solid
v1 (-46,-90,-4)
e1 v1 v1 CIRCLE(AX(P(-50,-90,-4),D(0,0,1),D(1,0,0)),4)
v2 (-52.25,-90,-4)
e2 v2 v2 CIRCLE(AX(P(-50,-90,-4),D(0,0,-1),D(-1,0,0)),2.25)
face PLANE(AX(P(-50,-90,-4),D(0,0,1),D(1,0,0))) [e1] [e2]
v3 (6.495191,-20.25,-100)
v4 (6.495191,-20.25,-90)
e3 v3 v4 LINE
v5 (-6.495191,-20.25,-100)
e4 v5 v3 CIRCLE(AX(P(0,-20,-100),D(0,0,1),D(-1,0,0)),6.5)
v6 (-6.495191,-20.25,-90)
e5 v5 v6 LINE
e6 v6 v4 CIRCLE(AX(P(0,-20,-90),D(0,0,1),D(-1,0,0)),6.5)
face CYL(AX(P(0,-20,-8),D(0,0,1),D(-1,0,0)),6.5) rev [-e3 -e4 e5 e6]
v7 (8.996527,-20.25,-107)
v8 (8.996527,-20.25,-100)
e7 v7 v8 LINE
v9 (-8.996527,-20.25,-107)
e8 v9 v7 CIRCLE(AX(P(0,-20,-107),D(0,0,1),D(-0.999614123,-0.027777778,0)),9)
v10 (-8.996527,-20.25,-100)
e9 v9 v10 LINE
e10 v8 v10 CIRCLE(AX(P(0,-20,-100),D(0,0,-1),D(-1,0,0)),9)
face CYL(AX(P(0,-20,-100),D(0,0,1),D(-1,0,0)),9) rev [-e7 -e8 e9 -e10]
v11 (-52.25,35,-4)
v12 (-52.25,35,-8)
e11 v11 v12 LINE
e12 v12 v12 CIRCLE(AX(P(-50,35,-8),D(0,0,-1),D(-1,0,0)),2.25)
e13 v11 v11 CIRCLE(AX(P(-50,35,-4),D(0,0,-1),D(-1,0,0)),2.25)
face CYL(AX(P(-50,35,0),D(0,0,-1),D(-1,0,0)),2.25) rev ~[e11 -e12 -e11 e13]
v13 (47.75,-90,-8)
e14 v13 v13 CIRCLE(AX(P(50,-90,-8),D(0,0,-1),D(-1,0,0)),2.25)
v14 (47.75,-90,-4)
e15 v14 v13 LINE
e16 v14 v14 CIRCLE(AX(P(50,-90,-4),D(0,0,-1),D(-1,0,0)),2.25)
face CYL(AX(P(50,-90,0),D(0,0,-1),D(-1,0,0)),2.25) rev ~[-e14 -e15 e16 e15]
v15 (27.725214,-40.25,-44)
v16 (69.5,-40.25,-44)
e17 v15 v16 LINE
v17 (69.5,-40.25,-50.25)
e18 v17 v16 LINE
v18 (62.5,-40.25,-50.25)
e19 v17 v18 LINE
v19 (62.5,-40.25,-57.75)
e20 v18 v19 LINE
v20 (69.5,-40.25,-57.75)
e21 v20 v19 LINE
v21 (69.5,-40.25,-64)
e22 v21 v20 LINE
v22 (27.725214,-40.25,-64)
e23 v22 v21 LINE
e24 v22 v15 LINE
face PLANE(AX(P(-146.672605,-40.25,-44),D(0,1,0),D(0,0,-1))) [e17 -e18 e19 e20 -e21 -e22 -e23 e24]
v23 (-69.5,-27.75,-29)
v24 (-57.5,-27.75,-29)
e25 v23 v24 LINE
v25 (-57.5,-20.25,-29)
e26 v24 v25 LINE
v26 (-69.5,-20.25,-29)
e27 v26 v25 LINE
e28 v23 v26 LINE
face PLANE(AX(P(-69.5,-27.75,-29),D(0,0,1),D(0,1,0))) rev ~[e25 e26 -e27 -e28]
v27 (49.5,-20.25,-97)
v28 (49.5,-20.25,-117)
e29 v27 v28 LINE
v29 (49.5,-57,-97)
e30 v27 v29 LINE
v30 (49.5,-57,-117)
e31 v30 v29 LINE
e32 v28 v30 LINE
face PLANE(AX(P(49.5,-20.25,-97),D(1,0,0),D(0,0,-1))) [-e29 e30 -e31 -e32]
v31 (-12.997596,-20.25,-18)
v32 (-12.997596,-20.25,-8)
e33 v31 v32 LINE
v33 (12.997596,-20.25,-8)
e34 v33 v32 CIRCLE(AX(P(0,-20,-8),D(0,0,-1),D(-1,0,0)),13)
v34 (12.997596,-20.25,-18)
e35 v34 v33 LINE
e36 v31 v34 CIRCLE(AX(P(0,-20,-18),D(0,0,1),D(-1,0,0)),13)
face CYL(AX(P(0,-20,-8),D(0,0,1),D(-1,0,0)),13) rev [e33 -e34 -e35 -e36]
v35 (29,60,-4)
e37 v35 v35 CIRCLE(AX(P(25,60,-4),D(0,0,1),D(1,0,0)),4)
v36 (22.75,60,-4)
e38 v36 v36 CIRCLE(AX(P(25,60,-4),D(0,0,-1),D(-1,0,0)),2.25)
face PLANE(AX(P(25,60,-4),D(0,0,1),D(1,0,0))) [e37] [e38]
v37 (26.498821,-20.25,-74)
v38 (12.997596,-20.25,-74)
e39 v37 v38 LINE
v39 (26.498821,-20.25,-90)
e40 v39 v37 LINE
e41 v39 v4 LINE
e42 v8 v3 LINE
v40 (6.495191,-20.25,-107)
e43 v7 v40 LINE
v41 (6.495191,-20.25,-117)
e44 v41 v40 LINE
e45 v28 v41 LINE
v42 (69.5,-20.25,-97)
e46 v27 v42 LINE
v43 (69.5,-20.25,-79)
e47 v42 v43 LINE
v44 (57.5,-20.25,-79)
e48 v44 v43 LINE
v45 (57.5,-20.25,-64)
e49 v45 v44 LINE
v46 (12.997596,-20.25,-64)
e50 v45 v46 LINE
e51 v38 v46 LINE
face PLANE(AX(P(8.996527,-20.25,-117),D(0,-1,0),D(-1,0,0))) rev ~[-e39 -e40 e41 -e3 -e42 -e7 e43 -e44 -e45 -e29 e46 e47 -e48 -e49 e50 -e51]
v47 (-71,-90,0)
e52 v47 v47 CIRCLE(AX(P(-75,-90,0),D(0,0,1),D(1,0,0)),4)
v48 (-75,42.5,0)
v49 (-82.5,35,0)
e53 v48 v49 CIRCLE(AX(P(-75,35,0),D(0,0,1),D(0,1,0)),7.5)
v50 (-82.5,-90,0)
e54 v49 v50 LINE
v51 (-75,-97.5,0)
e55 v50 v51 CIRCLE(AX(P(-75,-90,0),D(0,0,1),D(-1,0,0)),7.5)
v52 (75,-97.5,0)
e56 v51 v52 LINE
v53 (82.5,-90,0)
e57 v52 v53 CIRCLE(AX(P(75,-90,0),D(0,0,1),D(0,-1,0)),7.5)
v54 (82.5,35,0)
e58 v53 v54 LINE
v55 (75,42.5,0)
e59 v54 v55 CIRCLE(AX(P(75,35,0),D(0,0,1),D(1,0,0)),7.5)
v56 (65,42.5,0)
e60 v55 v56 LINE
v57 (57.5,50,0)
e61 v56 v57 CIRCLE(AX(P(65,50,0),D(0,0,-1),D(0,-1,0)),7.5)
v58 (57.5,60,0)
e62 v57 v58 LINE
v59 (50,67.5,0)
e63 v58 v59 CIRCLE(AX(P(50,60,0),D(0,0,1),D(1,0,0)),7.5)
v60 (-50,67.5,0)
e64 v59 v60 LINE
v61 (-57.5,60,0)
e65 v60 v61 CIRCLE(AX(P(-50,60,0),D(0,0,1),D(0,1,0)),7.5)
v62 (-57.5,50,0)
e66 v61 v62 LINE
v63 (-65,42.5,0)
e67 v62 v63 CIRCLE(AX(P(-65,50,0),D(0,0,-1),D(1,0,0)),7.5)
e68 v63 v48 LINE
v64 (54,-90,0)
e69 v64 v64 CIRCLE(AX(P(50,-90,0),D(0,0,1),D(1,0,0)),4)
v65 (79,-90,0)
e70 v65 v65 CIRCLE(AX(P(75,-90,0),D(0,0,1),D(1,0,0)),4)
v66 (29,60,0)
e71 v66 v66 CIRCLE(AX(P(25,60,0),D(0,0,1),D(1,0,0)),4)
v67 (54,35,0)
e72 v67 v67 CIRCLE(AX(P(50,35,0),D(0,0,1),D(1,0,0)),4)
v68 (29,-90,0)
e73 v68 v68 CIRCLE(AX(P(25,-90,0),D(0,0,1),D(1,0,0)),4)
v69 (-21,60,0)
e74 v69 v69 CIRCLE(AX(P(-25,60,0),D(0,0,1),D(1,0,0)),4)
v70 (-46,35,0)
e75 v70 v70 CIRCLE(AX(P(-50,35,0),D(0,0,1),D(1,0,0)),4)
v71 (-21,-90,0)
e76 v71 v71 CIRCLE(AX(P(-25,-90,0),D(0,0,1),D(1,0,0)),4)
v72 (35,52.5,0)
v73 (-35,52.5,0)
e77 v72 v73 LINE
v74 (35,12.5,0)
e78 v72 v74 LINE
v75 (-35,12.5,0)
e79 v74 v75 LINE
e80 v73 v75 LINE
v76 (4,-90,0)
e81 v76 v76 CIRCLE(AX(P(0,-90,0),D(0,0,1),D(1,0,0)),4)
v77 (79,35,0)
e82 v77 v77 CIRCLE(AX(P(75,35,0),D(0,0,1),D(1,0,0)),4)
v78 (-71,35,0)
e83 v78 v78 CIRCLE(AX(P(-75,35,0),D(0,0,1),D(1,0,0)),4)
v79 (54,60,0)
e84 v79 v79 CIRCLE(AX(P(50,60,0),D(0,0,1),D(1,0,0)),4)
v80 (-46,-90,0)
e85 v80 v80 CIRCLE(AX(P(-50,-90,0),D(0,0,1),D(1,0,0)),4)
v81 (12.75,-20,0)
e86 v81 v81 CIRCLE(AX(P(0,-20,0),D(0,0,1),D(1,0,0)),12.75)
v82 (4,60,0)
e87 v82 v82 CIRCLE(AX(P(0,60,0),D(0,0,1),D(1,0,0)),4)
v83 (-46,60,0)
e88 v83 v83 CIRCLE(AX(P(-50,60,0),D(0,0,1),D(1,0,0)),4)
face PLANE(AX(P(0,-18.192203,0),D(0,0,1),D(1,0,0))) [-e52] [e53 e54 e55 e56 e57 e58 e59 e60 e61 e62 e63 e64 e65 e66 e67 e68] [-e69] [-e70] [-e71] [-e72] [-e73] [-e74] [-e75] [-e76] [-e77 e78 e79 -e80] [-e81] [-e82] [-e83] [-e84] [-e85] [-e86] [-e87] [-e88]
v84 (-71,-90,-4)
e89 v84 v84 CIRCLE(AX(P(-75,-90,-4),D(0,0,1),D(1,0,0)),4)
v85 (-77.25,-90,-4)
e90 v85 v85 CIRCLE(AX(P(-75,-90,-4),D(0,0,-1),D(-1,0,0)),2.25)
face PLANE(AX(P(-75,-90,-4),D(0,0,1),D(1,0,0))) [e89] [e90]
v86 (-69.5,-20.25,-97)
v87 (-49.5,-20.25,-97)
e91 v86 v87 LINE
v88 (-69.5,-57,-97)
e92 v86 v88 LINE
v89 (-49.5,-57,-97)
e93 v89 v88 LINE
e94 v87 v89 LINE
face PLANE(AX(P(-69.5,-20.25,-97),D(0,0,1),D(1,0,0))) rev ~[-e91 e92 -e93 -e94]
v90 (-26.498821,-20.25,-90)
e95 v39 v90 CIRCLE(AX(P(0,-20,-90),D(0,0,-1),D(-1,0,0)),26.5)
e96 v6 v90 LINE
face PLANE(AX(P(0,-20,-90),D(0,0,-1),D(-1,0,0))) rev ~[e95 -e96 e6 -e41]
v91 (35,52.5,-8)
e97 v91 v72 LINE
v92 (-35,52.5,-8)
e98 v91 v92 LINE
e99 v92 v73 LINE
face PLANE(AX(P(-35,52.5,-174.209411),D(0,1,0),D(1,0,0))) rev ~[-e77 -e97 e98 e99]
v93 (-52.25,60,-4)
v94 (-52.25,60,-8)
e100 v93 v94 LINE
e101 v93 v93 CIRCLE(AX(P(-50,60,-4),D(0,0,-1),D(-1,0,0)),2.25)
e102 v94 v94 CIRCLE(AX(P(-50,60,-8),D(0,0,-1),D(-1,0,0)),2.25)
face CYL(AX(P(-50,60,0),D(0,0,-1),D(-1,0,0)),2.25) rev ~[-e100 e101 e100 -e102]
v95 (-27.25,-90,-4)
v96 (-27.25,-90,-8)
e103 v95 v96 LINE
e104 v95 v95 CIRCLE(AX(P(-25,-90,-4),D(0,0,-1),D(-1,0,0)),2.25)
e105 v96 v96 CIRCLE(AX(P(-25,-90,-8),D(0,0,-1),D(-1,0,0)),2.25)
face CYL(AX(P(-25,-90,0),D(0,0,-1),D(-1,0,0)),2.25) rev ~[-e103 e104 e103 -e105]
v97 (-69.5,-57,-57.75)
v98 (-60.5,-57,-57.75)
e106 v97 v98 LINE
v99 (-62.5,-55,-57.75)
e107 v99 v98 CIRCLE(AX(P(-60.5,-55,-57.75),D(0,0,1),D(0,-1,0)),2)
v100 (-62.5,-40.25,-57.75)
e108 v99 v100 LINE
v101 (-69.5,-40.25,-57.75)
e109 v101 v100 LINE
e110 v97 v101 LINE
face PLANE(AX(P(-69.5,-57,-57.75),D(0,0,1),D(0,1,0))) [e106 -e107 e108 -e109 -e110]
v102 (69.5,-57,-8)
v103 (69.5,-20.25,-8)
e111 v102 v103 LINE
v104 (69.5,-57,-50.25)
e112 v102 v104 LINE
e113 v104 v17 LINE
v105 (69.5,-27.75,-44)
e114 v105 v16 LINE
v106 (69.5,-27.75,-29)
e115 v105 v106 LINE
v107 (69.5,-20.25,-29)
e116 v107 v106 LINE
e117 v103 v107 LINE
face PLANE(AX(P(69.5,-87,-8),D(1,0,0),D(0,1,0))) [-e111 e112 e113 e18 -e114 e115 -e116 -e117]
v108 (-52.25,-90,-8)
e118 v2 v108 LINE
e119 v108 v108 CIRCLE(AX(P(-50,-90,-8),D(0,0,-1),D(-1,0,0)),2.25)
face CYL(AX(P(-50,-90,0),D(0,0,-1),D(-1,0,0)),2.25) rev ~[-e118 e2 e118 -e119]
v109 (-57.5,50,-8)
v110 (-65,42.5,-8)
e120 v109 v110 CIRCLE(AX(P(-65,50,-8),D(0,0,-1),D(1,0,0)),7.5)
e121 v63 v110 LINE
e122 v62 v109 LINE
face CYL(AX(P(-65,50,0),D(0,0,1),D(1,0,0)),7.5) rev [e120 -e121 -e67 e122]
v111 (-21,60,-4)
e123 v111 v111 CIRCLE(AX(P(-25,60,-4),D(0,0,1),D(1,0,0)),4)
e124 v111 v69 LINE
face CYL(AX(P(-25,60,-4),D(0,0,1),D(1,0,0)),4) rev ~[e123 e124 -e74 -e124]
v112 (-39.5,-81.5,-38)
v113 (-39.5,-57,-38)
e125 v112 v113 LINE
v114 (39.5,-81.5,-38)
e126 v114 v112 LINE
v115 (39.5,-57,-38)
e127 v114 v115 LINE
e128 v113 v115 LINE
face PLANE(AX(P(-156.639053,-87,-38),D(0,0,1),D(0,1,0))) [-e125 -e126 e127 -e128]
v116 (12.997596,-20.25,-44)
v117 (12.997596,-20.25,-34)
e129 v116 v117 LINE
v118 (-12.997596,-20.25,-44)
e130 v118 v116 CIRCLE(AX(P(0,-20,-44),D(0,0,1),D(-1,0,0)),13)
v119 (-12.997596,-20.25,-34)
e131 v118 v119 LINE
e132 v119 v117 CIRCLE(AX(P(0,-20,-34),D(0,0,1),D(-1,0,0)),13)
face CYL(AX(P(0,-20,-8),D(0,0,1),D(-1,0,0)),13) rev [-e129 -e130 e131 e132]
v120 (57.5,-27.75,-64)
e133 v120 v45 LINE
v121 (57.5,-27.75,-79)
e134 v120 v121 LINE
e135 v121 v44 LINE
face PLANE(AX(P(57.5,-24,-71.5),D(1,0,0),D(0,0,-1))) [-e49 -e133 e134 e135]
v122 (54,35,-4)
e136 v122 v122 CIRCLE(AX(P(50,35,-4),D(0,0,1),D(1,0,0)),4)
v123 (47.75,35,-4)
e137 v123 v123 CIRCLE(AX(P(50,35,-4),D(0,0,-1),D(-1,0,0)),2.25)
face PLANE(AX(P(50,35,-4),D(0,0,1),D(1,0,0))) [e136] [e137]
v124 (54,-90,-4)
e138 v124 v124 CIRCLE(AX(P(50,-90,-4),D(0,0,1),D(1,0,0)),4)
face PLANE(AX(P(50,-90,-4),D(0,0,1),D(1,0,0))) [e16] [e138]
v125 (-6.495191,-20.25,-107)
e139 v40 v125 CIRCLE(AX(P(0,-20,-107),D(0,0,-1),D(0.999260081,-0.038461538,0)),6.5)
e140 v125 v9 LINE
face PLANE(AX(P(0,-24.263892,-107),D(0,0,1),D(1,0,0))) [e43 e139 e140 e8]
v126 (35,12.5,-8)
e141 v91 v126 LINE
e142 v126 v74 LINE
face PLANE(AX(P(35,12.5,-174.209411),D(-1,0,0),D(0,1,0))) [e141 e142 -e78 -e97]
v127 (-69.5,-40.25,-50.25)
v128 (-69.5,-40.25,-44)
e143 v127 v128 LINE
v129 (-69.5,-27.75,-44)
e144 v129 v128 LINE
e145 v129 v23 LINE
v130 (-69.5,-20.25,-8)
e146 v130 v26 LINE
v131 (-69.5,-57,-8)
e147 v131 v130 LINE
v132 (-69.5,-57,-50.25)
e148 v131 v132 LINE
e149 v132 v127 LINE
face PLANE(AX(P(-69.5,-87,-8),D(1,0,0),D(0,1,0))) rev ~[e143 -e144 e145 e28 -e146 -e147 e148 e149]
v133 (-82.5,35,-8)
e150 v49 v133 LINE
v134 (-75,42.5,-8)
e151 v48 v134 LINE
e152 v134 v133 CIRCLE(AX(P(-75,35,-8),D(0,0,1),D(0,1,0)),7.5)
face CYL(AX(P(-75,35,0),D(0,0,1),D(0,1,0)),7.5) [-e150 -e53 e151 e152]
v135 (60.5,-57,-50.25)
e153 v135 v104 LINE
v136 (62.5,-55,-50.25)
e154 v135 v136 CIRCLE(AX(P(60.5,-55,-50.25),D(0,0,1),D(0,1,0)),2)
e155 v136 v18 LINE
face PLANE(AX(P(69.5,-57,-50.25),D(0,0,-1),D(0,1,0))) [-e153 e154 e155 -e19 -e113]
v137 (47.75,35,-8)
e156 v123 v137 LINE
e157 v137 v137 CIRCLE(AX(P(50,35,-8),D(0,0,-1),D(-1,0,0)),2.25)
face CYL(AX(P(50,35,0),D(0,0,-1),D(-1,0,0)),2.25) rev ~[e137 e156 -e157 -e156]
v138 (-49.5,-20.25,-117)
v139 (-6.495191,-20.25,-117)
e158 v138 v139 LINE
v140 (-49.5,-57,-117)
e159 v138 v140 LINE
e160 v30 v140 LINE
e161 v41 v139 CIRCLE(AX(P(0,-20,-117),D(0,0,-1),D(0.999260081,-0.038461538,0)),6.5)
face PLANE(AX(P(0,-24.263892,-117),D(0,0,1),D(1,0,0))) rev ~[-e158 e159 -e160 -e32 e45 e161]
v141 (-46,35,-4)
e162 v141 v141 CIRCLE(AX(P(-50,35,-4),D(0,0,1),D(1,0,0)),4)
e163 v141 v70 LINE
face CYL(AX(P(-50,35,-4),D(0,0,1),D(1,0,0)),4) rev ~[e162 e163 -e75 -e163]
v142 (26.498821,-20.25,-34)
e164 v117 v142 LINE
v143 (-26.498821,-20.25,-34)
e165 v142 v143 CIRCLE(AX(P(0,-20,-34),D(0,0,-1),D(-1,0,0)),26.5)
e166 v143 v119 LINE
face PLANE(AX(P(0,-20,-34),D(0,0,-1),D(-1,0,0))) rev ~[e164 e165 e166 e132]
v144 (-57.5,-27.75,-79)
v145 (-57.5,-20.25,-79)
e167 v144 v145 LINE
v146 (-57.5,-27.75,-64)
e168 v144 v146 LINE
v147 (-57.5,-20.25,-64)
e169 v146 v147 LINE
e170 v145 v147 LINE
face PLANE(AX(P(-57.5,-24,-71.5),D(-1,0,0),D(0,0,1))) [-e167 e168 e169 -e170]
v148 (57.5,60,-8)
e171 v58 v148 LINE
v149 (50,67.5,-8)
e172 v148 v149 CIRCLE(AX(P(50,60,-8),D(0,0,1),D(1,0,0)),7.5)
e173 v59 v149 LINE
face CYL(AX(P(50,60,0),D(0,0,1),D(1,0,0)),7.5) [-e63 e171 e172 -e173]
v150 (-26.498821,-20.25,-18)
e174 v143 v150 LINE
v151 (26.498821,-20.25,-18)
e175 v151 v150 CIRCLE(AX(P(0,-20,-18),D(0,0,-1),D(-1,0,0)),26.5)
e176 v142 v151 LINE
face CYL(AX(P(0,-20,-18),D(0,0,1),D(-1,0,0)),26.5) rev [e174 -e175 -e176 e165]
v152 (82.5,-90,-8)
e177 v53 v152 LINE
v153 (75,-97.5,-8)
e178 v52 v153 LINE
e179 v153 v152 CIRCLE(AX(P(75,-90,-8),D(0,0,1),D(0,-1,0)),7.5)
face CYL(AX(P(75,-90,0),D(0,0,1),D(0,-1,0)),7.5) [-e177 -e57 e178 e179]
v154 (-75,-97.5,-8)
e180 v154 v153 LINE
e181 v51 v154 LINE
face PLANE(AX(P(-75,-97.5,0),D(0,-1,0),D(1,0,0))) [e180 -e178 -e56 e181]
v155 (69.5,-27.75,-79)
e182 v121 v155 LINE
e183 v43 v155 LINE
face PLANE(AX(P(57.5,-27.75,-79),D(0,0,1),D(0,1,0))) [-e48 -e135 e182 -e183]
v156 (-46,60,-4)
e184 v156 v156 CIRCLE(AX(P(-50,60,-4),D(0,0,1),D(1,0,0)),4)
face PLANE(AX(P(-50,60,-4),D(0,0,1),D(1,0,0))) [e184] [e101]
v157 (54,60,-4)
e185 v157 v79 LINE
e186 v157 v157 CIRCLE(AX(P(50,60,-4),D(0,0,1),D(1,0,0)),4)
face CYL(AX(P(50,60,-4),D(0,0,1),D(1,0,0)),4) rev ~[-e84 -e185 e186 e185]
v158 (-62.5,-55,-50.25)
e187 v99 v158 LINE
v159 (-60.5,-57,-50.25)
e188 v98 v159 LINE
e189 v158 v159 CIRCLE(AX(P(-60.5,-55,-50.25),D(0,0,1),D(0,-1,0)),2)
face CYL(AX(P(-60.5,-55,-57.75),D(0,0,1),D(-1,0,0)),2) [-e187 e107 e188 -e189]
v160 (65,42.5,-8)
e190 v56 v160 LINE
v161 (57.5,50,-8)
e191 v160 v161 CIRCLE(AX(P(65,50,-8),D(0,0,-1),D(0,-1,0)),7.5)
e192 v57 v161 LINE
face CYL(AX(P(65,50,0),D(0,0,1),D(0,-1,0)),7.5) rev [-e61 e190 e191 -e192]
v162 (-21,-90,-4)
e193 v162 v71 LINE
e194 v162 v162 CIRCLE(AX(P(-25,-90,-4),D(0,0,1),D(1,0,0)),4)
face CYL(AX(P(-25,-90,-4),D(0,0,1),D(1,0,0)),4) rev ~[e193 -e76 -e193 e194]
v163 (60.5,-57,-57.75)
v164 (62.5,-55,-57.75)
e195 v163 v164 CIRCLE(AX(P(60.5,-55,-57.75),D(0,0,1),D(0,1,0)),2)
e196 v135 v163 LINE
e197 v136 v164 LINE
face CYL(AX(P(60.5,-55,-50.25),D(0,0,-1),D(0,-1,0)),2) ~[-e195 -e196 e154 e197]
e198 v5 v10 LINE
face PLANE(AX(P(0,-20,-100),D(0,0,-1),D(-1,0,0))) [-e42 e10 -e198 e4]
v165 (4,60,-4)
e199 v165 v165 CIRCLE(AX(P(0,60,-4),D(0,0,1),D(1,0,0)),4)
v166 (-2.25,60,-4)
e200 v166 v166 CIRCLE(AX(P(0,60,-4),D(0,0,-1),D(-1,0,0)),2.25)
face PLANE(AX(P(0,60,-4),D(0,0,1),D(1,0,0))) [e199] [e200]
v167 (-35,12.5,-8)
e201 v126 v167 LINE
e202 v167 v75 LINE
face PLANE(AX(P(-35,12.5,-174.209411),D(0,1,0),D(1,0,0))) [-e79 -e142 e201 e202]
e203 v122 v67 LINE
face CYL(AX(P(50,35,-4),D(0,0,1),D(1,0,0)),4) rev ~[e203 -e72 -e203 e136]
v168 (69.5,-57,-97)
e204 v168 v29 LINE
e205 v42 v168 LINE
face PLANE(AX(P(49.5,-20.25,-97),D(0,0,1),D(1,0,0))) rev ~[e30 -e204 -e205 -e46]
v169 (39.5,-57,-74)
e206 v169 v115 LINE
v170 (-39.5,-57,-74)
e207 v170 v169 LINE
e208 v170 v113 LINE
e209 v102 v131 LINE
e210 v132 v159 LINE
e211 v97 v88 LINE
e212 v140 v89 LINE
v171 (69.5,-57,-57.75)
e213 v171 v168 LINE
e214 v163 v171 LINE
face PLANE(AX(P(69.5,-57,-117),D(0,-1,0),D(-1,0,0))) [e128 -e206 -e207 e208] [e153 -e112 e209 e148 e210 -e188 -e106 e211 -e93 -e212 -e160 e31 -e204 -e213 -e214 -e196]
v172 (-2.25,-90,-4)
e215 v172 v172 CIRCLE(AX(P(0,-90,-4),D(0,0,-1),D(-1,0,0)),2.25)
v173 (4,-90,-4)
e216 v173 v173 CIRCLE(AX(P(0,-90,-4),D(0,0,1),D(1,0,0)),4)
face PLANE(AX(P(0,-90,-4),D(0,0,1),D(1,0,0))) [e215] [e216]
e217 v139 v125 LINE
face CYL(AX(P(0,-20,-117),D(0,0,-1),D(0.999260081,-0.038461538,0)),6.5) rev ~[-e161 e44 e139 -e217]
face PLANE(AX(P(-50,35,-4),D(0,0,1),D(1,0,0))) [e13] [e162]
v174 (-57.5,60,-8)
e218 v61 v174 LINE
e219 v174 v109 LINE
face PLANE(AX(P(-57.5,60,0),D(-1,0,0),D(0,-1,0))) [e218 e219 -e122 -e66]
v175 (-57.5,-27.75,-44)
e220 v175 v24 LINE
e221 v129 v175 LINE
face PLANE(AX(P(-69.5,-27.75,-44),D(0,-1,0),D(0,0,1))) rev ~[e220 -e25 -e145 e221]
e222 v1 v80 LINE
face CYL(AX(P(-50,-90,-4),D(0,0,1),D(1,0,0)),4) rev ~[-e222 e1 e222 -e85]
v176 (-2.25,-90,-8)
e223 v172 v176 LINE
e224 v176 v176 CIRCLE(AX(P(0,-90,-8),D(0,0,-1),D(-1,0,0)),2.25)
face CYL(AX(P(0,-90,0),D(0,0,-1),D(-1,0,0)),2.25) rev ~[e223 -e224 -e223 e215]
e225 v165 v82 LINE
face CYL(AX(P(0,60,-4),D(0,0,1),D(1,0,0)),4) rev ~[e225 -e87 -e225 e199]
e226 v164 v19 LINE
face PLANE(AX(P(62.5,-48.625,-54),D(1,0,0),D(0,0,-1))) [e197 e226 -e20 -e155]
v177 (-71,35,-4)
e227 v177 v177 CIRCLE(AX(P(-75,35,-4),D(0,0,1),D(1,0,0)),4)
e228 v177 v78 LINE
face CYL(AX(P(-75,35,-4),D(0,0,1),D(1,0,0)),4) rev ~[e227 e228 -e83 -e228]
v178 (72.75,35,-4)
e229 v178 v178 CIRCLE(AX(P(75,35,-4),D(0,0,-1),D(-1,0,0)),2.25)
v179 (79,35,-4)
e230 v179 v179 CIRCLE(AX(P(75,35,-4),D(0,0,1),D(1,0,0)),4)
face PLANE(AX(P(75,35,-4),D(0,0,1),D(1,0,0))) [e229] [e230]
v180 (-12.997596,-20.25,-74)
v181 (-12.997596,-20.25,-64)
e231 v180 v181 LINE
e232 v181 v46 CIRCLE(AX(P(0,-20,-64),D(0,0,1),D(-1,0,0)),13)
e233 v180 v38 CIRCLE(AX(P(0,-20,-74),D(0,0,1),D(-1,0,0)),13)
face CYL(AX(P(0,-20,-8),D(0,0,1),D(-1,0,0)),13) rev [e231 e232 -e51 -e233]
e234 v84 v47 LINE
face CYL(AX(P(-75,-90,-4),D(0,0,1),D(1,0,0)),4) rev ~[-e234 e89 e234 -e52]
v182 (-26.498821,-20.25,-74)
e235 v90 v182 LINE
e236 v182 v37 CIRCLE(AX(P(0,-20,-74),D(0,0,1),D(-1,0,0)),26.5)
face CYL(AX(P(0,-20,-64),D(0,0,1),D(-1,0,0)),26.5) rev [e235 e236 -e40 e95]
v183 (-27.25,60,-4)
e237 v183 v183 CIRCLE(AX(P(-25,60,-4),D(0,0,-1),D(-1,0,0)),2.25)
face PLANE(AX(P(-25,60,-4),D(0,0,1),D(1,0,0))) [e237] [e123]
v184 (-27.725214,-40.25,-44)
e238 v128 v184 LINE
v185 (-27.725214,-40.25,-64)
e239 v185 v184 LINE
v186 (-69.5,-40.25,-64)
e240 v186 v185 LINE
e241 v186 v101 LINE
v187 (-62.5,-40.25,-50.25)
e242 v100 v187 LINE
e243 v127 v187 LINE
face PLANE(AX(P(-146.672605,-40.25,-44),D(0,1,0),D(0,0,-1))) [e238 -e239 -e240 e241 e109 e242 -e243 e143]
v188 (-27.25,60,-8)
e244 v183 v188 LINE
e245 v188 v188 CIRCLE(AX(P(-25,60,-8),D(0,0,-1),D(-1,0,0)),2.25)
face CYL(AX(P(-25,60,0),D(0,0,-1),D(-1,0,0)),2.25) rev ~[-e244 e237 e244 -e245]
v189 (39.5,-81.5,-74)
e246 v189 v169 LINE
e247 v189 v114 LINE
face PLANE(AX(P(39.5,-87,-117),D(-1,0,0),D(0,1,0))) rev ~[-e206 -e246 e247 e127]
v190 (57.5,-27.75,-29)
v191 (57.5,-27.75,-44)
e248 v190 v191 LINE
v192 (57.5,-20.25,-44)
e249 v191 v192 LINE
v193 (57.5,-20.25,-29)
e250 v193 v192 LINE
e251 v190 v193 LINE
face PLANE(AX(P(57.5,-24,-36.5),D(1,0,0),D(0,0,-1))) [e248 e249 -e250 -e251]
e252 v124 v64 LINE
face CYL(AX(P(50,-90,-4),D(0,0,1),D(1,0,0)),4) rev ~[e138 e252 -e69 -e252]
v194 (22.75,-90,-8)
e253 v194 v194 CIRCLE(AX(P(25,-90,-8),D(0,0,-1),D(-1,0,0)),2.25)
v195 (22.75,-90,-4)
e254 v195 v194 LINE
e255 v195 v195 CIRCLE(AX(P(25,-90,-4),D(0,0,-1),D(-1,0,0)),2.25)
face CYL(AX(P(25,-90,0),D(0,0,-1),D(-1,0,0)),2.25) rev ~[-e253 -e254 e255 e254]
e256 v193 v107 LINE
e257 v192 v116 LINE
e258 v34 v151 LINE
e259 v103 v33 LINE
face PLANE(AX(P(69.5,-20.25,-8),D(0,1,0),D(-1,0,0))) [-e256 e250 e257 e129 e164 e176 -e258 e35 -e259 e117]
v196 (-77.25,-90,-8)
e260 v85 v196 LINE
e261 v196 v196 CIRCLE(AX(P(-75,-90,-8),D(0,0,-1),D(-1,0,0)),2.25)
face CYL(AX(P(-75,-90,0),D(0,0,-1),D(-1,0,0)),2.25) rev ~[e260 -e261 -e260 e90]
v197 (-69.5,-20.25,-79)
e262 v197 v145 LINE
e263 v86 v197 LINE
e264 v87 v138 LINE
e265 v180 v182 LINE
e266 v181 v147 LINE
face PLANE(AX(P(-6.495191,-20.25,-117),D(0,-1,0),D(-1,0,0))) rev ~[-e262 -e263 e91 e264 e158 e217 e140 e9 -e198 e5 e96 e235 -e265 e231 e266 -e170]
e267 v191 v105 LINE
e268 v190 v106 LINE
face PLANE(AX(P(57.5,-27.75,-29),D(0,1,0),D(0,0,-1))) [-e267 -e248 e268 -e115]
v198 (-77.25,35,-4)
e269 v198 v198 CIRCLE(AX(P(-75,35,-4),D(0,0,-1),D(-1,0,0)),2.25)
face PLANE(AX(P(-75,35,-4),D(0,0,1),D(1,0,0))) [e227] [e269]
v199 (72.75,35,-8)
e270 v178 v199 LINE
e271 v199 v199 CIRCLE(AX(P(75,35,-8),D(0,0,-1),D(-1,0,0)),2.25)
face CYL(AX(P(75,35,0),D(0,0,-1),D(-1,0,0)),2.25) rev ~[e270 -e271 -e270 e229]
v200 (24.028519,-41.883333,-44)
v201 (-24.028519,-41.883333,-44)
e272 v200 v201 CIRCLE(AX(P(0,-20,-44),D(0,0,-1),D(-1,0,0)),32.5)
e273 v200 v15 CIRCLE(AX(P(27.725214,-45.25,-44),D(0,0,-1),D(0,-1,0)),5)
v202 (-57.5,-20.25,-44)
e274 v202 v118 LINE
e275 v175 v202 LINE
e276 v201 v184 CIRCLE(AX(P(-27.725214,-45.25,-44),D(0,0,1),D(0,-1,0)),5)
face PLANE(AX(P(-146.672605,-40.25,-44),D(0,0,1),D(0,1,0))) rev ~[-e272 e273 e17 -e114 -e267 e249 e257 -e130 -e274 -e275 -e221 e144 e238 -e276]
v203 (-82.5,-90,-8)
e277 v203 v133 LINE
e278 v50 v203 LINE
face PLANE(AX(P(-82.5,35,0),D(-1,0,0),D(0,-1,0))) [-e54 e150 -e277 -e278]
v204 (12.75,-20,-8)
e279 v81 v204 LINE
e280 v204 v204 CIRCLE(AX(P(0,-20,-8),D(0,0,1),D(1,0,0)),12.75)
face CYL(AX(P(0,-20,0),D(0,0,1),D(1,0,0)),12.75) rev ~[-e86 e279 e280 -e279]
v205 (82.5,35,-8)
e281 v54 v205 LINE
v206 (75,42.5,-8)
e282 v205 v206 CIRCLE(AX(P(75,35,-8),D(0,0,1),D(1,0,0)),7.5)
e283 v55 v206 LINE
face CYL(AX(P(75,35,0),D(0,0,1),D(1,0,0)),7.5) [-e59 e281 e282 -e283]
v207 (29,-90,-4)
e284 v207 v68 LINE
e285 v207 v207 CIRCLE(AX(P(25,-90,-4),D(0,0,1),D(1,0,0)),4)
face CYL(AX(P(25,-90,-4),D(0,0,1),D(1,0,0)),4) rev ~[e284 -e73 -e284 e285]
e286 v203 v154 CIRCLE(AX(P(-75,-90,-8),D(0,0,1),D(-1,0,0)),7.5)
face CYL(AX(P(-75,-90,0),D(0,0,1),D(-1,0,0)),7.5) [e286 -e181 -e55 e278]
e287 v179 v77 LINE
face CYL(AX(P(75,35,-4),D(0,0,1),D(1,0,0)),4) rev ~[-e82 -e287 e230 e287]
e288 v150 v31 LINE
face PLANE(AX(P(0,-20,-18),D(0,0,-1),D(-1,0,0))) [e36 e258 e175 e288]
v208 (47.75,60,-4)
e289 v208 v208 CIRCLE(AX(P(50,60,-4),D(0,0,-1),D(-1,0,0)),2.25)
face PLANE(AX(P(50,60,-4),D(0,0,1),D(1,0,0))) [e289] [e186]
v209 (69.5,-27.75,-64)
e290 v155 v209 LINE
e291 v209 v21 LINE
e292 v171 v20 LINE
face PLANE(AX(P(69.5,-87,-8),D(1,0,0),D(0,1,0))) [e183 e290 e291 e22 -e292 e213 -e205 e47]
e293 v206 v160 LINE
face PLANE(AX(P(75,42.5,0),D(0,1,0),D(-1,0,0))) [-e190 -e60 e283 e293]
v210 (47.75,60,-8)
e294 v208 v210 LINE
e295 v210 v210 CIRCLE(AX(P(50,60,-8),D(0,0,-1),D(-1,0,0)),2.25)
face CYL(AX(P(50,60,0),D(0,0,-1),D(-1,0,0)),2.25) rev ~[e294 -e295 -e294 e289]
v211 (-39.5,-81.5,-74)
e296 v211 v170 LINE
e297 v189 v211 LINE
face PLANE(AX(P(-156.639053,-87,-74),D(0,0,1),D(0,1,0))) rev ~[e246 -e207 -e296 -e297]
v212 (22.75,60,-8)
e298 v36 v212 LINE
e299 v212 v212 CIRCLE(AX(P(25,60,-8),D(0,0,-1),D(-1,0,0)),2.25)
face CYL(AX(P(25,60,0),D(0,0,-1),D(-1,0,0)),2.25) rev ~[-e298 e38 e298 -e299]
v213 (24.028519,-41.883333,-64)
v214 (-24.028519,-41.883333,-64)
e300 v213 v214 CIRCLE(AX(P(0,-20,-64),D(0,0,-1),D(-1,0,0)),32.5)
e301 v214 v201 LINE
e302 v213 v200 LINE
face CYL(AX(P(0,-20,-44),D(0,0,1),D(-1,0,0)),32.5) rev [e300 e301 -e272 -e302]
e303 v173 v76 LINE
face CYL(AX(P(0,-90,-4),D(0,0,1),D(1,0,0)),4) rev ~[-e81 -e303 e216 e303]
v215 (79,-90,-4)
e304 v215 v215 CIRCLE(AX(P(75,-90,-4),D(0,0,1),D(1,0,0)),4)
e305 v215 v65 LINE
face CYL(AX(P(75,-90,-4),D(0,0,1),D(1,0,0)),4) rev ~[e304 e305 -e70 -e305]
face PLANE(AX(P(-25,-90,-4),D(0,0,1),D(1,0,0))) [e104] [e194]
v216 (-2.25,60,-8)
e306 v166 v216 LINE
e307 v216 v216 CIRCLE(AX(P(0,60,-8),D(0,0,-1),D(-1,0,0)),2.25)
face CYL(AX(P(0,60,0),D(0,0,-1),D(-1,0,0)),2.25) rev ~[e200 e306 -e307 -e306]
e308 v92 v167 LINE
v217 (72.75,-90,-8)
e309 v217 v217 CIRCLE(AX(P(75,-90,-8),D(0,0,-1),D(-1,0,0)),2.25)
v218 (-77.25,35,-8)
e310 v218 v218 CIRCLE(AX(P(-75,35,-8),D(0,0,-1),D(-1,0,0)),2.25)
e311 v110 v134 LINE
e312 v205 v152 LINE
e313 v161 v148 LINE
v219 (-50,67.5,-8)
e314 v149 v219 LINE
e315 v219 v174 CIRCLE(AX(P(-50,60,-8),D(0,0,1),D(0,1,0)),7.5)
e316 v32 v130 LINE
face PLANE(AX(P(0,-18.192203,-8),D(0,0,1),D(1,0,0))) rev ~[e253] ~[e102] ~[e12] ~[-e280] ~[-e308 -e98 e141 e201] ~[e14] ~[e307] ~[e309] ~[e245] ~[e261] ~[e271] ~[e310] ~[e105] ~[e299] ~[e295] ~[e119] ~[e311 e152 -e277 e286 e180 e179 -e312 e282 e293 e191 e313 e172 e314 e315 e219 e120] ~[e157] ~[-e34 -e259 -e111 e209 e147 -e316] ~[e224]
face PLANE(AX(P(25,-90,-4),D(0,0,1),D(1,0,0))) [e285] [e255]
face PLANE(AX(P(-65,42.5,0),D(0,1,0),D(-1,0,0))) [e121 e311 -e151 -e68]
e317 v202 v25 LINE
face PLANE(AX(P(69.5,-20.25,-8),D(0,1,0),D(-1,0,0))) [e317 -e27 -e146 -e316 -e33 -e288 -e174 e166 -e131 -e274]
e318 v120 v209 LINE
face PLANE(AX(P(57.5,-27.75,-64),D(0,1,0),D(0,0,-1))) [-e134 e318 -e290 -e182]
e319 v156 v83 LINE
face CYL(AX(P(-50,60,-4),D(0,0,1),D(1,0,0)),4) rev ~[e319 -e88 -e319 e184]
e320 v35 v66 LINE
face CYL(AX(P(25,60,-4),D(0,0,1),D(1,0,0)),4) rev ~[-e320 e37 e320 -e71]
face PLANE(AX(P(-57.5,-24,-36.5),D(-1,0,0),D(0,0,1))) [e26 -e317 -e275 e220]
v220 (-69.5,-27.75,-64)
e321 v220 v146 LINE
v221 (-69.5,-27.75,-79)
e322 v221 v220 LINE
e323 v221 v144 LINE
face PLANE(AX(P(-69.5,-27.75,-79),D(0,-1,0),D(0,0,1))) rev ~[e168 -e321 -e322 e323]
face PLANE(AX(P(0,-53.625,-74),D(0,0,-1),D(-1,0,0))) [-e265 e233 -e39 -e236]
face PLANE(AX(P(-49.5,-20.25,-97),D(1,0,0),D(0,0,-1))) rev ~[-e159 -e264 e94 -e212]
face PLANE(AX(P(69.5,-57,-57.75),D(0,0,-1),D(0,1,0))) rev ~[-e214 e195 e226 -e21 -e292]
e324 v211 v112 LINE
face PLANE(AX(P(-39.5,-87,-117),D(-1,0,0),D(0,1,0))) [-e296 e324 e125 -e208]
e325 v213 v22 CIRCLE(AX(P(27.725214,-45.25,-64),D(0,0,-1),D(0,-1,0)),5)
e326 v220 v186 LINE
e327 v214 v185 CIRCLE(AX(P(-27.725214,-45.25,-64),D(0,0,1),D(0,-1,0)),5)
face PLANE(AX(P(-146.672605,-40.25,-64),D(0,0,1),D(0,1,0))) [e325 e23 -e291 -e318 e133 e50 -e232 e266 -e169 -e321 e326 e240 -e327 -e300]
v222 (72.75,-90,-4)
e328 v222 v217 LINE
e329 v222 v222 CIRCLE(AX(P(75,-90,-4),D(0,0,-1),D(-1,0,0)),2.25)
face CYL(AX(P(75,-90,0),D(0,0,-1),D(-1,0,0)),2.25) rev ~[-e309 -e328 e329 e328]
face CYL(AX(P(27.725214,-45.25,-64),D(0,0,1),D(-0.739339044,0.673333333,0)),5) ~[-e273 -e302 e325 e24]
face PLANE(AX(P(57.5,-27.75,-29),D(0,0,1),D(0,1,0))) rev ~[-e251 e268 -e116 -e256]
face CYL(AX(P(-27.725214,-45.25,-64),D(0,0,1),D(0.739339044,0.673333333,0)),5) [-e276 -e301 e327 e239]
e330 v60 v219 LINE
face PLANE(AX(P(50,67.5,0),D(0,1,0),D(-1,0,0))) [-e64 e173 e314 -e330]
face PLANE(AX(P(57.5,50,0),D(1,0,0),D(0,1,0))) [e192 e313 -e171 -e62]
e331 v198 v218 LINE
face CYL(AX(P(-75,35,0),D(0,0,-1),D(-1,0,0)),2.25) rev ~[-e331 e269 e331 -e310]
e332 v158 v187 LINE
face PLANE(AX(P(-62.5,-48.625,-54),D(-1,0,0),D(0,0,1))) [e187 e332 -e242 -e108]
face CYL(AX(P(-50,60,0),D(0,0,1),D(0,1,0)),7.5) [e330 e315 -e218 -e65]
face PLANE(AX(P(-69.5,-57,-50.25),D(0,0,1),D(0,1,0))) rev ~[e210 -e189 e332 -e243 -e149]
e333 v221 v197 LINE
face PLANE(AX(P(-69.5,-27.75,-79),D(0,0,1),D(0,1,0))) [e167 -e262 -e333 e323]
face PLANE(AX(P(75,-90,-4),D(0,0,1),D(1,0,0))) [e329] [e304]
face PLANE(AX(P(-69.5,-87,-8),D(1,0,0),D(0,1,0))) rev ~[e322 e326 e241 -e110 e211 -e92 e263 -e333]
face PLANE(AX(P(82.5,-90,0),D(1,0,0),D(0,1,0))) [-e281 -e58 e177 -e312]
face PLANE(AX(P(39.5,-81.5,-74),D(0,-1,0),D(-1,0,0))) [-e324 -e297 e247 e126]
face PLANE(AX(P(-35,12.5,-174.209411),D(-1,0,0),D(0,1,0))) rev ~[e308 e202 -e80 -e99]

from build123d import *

# Parameters (mm, degrees)
BOSS_EXTRUDE1_DEPTH            = 8
SKETCH3_R                      = 12.75
CUT_EXTRUDE1_DEPTH             = 8
SKETCH5_W                      = 139
SKETCH5_H                      = 67
BOSS_EXTRUDE2_DEPTH            = 109
CUT_EXTRUDE2_START             = 10
SKETCH6_R                      = 26.5
CUT_EXTRUDE2_DEPTH             = 16
CUT_EXTRUDE3_REACH             = 169.909
SKETCH7_R                      = 6.5
CUT_EXTRUDE4_REACH             = 169.909
SKETCH10_W                     = 139
SKETCH10_H                     = 0.25
CUT_EXTRUDE8_START             = 36
SKETCH15_R                     = 32.5
CUT_EXTRUDE8_DEPTH             = 20
CUT_EXTRUDE9_DEPTH             = 216.172605134
CUT_EXTRUDE9_DEPTH_BACK        = 216.172605134
SKETCH16_W                     = 20
SKETCH16_H                     = 20
CUT_EXTRUDE10_START            = 56
SKETCH17_R                     = 26.5
CUT_EXTRUDE10_DEPTH            = 26
BOSS_EXTRUDE6_START            = 56
SKETCH20_W                     = 139
SKETCH20_H                     = 66.75
BOSS_EXTRUDE6_DEPTH            = 10
CUT_EXTRUDE12_REACH            = 169.909
SKETCH21_R                     = 13
FILLET1_R                      = 5
FILLET2_R                      = 5
CUT_EXTRUDE13_DEPTH            = 168.909201654
CUT_EXTRUDE13_DEPTH_BACK       = 17
CUT_EXTRUDE13_START            = 109
SKETCH22_R                     = 9
BOSS_EXTRUDE7_DEPTH            = 10
SKETCH24_W                     = 30
SKETCH24_H                     = 30
CUT_EXTRUDE14_DEPTH            = 109
CUT_EXTRUDE15_DEPTH            = 196.139052985
CUT_EXTRUDE15_DEPTH_BACK       = 196.139052985
SKETCH25_W                     = 30
SKETCH25_H                     = 30
SKETCH25_W_2                   = 43
CUT_EXTRUDE16_DEPTH            = 216.172605134
CUT_EXTRUDE16_DEPTH_BACK       = 12
SKETCH29_W                     = 15
SKETCH29_H                     = 7.5
SKETCH30_W                     = 15
SKETCH30_H                     = 7.5
CUT_EXTRUDE17_DEPTH            = 12
SKETCH31_W                     = 7.5
SKETCH31_H                     = 16.75
CUT_EXTRUDE18_DEPTH            = 7
SKETCH32_W                     = 7.5
SKETCH32_H                     = 16.75
CUT_EXTRUDE19_DEPTH            = 7
SKETCH38_W                     = 20
SKETCH38_H                     = 20
CUT_EXTRUDE20_DEPTH            = 168.914598829
FILLET3_R                      = 2
FILLET4_R                      = 2
SKETCH39_W                     = 79
SKETCH39_H                     = 5.5
CUT_EXTRUDE21_DEPTH            = 36
CBORE_FOR_M4_SHCS1_D           = 4.5
CBORE_FOR_M4_SHCS1_CBORE_D     = 8
CBORE_FOR_M4_SHCS1_CBORE_DEPTH = 4
CUT_EXTRUDE22_DEPTH            = 174.20941083
CUT_EXTRUDE22_DEPTH_BACK       = 174.20941083
SKETCH43_W                     = 70
SKETCH43_H                     = 40


with BuildPart() as part:
    # Sketch2 → Boss-Extrude1 (new body)
    with BuildSketch(Plane.XY):
        with BuildLine():
            Line((-57.5, 60), (-57.5, 50))
            ThreePointArc((-57.5, 50), (-59.696699141, 44.696699141), (-65, 42.5))
            Line((-65, 42.5), (-75, 42.5))
            ThreePointArc((-75, 42.5), (-80.303300859, 40.303300859), (-82.5, 35))
            Line((-82.5, 35), (-82.5, -90))
            ThreePointArc((-82.5, -90), (-80.303300859, -95.303300859), (-75, -97.5))
            Line((-75, -97.5), (75, -97.5))
            ThreePointArc((75, -97.5), (80.303300859, -95.303300859), (82.5, -90))
            Line((82.5, -90), (82.5, 35))
            ThreePointArc((82.5, 35), (80.303300859, 40.303300859), (75, 42.5))
            Line((75, 42.5), (65, 42.5))
            ThreePointArc((65, 42.5), (59.696699141, 44.696699141), (57.5, 50))
            Line((57.5, 50), (57.5, 60))
            ThreePointArc((57.5, 60), (55.303300859, 65.303300859), (50, 67.5))
            Line((50, 67.5), (-50, 67.5))
            ThreePointArc((-50, 67.5), (-55.303300859, 65.303300859), (-57.5, 60))
        make_face()
    extrude(amount=-BOSS_EXTRUDE1_DEPTH)

    # Sketch3 → Cut-Extrude1 (cut)
    with BuildSketch(Plane.XY):
        with Locations((0, -20)):
            Circle(SKETCH3_R)
    extrude(amount=-CUT_EXTRUDE1_DEPTH, mode=Mode.SUBTRACT)

    # Sketch5 → Boss-Extrude2 (add)
    with BuildSketch(Plane(origin=(0, 0, -8), x_dir=(-1, 0, 0), z_dir=(0, 0, -1))):
        with Locations((0, -53.5)):
            Rectangle(SKETCH5_W, SKETCH5_H)
    extrude(amount=BOSS_EXTRUDE2_DEPTH)

    # Sketch6 → Cut-Extrude2 (cut)
    with BuildSketch(Plane(origin=(0, 0, -8), x_dir=(-1, 0, 0), z_dir=(0, 0, -1)).offset(CUT_EXTRUDE2_START)):
        with Locations((0, -20)):
            Circle(SKETCH6_R)
    extrude(amount=CUT_EXTRUDE2_DEPTH, mode=Mode.SUBTRACT)

    # Cut-Extrude3: up to this face of the body (flat: up to its plane)
    cut_extrude3_end = Plane(part.part.faces().sort_by_distance((0, -53.5, -117))[0])
    # Sketch7 → Cut-Extrude3 (cut, up to the picked face)
    with BuildSketch(Plane(origin=(0, 0, -8), x_dir=(-1, 0, 0), z_dir=(0, 0, -1)), mode=Mode.PRIVATE) as cut_extrude3_sk1:
        with Locations((0, -20)):
            Circle(SKETCH7_R)
    cut_extrude3_tool1 = split(extrude(cut_extrude3_sk1.sketch, amount=CUT_EXTRUDE3_REACH, mode=Mode.PRIVATE), bisect_by=cut_extrude3_end, keep=Keep.BOTH, mode=Mode.PRIVATE)
    add(cut_extrude3_tool1.solids().sort_by(Axis((0, -20, -8), (0, 0, -1)))[0], mode=Mode.SUBTRACT)

    # Cut-Extrude4: up to this face of the body (flat: up to its plane)
    cut_extrude4_end = Plane(part.part.faces().sort_by_distance((0, -53.720640565, -117))[0])
    # Sketch10 → Cut-Extrude4 (cut, up to the picked face)
    with BuildSketch(Plane(origin=(0, 0, -8), x_dir=(-1, 0, 0), z_dir=(0, 0, -1)), mode=Mode.PRIVATE) as cut_extrude4_sk1:
        with Locations((0, -20.125)):
            Rectangle(SKETCH10_W, SKETCH10_H)
    cut_extrude4_tool1 = split(extrude(cut_extrude4_sk1.sketch, amount=CUT_EXTRUDE4_REACH, mode=Mode.PRIVATE), bisect_by=cut_extrude4_end, keep=Keep.BOTH, mode=Mode.PRIVATE)
    add(cut_extrude4_tool1.solids().sort_by(Axis((0, -20.125, -8), (0, 0, -1)))[0], mode=Mode.SUBTRACT)

    # Sketch15 → Cut-Extrude8 (cut)
    with BuildSketch(Plane(origin=(0, 0, -8), x_dir=(-1, 0, 0), z_dir=(0, 0, -1)).offset(CUT_EXTRUDE8_START)):
        with Locations((0, -20)):
            Circle(SKETCH15_R)
    extrude(amount=CUT_EXTRUDE8_DEPTH, mode=Mode.SUBTRACT)

    # Sketch16 → Cut-Extrude9 (cut, two sides: drawn at the far end of the back side and taken through both)
    with BuildSketch(Plane(origin=(69.5, 0, 0), x_dir=(0, 0, -1), z_dir=(1, 0, 0)).offset(-CUT_EXTRUDE9_DEPTH_BACK)):
        with Locations((54, -30.25)):
            Rectangle(SKETCH16_W, SKETCH16_H)
    extrude(amount=CUT_EXTRUDE9_DEPTH + CUT_EXTRUDE9_DEPTH_BACK, mode=Mode.SUBTRACT)

    # Sketch17 → Cut-Extrude10 (cut)
    with BuildSketch(Plane(origin=(0, 0, -8), x_dir=(-1, 0, 0), z_dir=(0, 0, -1)).offset(CUT_EXTRUDE10_START)):
        with Locations((0, -20)):
            Circle(SKETCH17_R)
    extrude(amount=CUT_EXTRUDE10_DEPTH, mode=Mode.SUBTRACT)

    # Sketch20 → Boss-Extrude6 (add)
    with BuildSketch(Plane(origin=(0, 0, -8), x_dir=(-1, 0, 0), z_dir=(0, 0, -1)).offset(BOSS_EXTRUDE6_START)):
        with Locations((0, -53.625)):
            Rectangle(SKETCH20_W, SKETCH20_H)
    extrude(amount=BOSS_EXTRUDE6_DEPTH)

    # Cut-Extrude12: up to this face of the body (flat: up to its plane)
    cut_extrude12_end = Plane(part.part.faces().sort_by_distance((0, -31.382164936, -74))[0])
    # Sketch21 → Cut-Extrude12 (cut, up to the picked face)
    with BuildSketch(Plane(origin=(0, 0, -8), x_dir=(-1, 0, 0), z_dir=(0, 0, -1)), mode=Mode.PRIVATE) as cut_extrude12_sk1:
        with Locations((0, -20)):
            Circle(SKETCH21_R)
    cut_extrude12_tool1 = split(extrude(cut_extrude12_sk1.sketch, amount=CUT_EXTRUDE12_REACH, mode=Mode.PRIVATE), bisect_by=cut_extrude12_end, keep=Keep.BOTH, mode=Mode.PRIVATE)
    add(cut_extrude12_tool1.solids().sort_by(Axis((0, -20, -8), (0, 0, -1)))[0], mode=Mode.SUBTRACT)

    # Fillet1
    fillet1_edges = [part.edges().sort_by_distance(p)[0] for p in [
        (25.420218331, -40.25, -54),
    ]]
    fillet(fillet1_edges, radius=FILLET1_R)

    # Fillet2
    fillet2_edges = [part.edges().sort_by_distance(p)[0] for p in [
        (-25.420218331, -40.25, -54),
    ]]
    fillet(fillet2_edges, radius=FILLET2_R)

    # Sketch22 → Cut-Extrude13 (cut, two sides: drawn at the far end of the back side and taken through both)
    with BuildSketch(Plane(origin=(0, 0, -8), x_dir=(-1, 0, 0), z_dir=(0, 0, -1)).offset(CUT_EXTRUDE13_START - CUT_EXTRUDE13_DEPTH_BACK)):
        with Locations((0, -20)):
            Circle(SKETCH22_R)
    extrude(amount=CUT_EXTRUDE13_DEPTH + CUT_EXTRUDE13_DEPTH_BACK, mode=Mode.SUBTRACT)

    # Sketch23 → Boss-Extrude7 (add)
    with BuildSketch(Plane(origin=(0, 0, -117), x_dir=(-1, 0, 0), z_dir=(0, 0, -1))):
        with BuildLine():
            Line((-8.996527108, -20.25), (-6.495190528, -20.25))
            ThreePointArc((-6.495190528, -20.25), (0, -26.5), (6.495190528, -20.25))
            Line((6.495190528, -20.25), (8.996527108, -20.25))
            ThreePointArc((8.996527108, -20.25), (0, -29), (-8.996527108, -20.25))
        make_face()
    extrude(amount=-BOSS_EXTRUDE7_DEPTH)

    # Sketch24 → Cut-Extrude14 (cut)
    with BuildSketch(Plane(origin=(0, 0, -117), x_dir=(-1, 0, 0), z_dir=(0, 0, -1))):
        with Locations((-54.5, -72)):
            Rectangle(SKETCH24_W, SKETCH24_H)
        with Locations((54.5, -72)):
            Rectangle(SKETCH24_W, SKETCH24_H)
    extrude(amount=-CUT_EXTRUDE14_DEPTH, mode=Mode.SUBTRACT)

    # Sketch25 → Cut-Extrude15 (cut, two sides: drawn at the far end of the back side and taken through both)
    with BuildSketch(Plane(origin=(39.5, 0, 0), x_dir=(0, 0, -1), z_dir=(1, 0, 0)).offset(-CUT_EXTRUDE15_DEPTH_BACK)):
        with Locations((23, -72)):
            Rectangle(SKETCH25_W, SKETCH25_H)
        with Locations((95.5, -72)):
            Rectangle(SKETCH25_W_2, SKETCH25_H)
    extrude(amount=CUT_EXTRUDE15_DEPTH + CUT_EXTRUDE15_DEPTH_BACK, mode=Mode.SUBTRACT)

    # Sketch29 → Cut-Extrude16 (cut, two sides: drawn at the far end of the back side and taken through both)
    with BuildSketch(Plane(origin=(69.5, 0, 0), x_dir=(0, 0, -1), z_dir=(1, 0, 0)).offset(-CUT_EXTRUDE16_DEPTH_BACK)):
        with Locations((36.5, -24)):
            Rectangle(SKETCH29_W, SKETCH29_H)
        with Locations((71.5, -24)):
            Rectangle(SKETCH29_W, SKETCH29_H)
    extrude(amount=CUT_EXTRUDE16_DEPTH + CUT_EXTRUDE16_DEPTH_BACK, mode=Mode.SUBTRACT)

    # Sketch30 → Cut-Extrude17 (cut)
    with BuildSketch(Plane.ZY.offset(69.5)):
        with Locations((-36.5, -24)):
            Rectangle(SKETCH30_W, SKETCH30_H)
        with Locations((-71.5, -24)):
            Rectangle(SKETCH30_W, SKETCH30_H)
    extrude(amount=-CUT_EXTRUDE17_DEPTH, mode=Mode.SUBTRACT)

    # Sketch31 → Cut-Extrude18 (cut)
    with BuildSketch(Plane.ZY.offset(69.5)):
        with Locations((-54, -48.625)):
            Rectangle(SKETCH31_W, SKETCH31_H)
    extrude(amount=-CUT_EXTRUDE18_DEPTH, mode=Mode.SUBTRACT)

    # Sketch32 → Cut-Extrude19 (cut)
    with BuildSketch(Plane(origin=(69.5, 0, 0), x_dir=(0, 0, -1), z_dir=(1, 0, 0))):
        with Locations((54, -48.625)):
            Rectangle(SKETCH32_W, SKETCH32_H)
    extrude(amount=-CUT_EXTRUDE19_DEPTH, mode=Mode.SUBTRACT)

    # Sketch38 → Cut-Extrude20 (cut, through all)
    with BuildSketch(Plane(origin=(0, -20.25, 0), x_dir=(1, 0, 0), z_dir=(0, 1, 0))):
        with Locations((59.5, 107)):
            Rectangle(SKETCH38_W, SKETCH38_H)
        with Locations((-59.5, 107)):
            Rectangle(SKETCH38_W, SKETCH38_H)
    extrude(amount=-CUT_EXTRUDE20_DEPTH, mode=Mode.SUBTRACT)

    # Fillet3
    fillet3_edges = [part.edges().sort_by_distance(p)[0] for p in [
        (62.5, -57, -54),
    ]]
    fillet(fillet3_edges, radius=FILLET3_R)

    # Fillet4
    fillet4_edges = [part.edges().sort_by_distance(p)[0] for p in [
        (-62.5, -57, -54),
    ]]
    fillet(fillet4_edges, radius=FILLET4_R)

    # Sketch39 → Cut-Extrude21 (cut)
    with BuildSketch(Plane(origin=(0, 0, -74), x_dir=(-1, 0, 0), z_dir=(0, 0, -1))):
        with Locations((0, -84.25)):
            Rectangle(SKETCH39_W, SKETCH39_H)
    extrude(amount=-CUT_EXTRUDE21_DEPTH, mode=Mode.SUBTRACT)

    # CBORE for M4 SHCS1 (through all)
    with Locations(Plane.XY):
        with Locations((-75, 35), (-50, 35), (-50, 60), (-25, 60), (0, 60), (25, 60), (50, 60), (50, 35), (75, 35), (-75, -90), (-50, -90), (-25, -90), (0, -90), (25, -90), (50, -90), (75, -90)):
            CounterBoreHole(CBORE_FOR_M4_SHCS1_D / 2, CBORE_FOR_M4_SHCS1_CBORE_D / 2, CBORE_FOR_M4_SHCS1_CBORE_DEPTH)

    # Sketch43 → Cut-Extrude22 (cut, two sides: drawn at the far end of the back side and taken through both)
    with BuildSketch(Plane.XY.offset(-CUT_EXTRUDE22_DEPTH_BACK)):
        with Locations((0, 32.5)):
            Rectangle(SKETCH43_W, SKETCH43_H)
    extrude(amount=CUT_EXTRUDE22_DEPTH + CUT_EXTRUDE22_DEPTH_BACK, mode=Mode.SUBTRACT)


solid = part.part
